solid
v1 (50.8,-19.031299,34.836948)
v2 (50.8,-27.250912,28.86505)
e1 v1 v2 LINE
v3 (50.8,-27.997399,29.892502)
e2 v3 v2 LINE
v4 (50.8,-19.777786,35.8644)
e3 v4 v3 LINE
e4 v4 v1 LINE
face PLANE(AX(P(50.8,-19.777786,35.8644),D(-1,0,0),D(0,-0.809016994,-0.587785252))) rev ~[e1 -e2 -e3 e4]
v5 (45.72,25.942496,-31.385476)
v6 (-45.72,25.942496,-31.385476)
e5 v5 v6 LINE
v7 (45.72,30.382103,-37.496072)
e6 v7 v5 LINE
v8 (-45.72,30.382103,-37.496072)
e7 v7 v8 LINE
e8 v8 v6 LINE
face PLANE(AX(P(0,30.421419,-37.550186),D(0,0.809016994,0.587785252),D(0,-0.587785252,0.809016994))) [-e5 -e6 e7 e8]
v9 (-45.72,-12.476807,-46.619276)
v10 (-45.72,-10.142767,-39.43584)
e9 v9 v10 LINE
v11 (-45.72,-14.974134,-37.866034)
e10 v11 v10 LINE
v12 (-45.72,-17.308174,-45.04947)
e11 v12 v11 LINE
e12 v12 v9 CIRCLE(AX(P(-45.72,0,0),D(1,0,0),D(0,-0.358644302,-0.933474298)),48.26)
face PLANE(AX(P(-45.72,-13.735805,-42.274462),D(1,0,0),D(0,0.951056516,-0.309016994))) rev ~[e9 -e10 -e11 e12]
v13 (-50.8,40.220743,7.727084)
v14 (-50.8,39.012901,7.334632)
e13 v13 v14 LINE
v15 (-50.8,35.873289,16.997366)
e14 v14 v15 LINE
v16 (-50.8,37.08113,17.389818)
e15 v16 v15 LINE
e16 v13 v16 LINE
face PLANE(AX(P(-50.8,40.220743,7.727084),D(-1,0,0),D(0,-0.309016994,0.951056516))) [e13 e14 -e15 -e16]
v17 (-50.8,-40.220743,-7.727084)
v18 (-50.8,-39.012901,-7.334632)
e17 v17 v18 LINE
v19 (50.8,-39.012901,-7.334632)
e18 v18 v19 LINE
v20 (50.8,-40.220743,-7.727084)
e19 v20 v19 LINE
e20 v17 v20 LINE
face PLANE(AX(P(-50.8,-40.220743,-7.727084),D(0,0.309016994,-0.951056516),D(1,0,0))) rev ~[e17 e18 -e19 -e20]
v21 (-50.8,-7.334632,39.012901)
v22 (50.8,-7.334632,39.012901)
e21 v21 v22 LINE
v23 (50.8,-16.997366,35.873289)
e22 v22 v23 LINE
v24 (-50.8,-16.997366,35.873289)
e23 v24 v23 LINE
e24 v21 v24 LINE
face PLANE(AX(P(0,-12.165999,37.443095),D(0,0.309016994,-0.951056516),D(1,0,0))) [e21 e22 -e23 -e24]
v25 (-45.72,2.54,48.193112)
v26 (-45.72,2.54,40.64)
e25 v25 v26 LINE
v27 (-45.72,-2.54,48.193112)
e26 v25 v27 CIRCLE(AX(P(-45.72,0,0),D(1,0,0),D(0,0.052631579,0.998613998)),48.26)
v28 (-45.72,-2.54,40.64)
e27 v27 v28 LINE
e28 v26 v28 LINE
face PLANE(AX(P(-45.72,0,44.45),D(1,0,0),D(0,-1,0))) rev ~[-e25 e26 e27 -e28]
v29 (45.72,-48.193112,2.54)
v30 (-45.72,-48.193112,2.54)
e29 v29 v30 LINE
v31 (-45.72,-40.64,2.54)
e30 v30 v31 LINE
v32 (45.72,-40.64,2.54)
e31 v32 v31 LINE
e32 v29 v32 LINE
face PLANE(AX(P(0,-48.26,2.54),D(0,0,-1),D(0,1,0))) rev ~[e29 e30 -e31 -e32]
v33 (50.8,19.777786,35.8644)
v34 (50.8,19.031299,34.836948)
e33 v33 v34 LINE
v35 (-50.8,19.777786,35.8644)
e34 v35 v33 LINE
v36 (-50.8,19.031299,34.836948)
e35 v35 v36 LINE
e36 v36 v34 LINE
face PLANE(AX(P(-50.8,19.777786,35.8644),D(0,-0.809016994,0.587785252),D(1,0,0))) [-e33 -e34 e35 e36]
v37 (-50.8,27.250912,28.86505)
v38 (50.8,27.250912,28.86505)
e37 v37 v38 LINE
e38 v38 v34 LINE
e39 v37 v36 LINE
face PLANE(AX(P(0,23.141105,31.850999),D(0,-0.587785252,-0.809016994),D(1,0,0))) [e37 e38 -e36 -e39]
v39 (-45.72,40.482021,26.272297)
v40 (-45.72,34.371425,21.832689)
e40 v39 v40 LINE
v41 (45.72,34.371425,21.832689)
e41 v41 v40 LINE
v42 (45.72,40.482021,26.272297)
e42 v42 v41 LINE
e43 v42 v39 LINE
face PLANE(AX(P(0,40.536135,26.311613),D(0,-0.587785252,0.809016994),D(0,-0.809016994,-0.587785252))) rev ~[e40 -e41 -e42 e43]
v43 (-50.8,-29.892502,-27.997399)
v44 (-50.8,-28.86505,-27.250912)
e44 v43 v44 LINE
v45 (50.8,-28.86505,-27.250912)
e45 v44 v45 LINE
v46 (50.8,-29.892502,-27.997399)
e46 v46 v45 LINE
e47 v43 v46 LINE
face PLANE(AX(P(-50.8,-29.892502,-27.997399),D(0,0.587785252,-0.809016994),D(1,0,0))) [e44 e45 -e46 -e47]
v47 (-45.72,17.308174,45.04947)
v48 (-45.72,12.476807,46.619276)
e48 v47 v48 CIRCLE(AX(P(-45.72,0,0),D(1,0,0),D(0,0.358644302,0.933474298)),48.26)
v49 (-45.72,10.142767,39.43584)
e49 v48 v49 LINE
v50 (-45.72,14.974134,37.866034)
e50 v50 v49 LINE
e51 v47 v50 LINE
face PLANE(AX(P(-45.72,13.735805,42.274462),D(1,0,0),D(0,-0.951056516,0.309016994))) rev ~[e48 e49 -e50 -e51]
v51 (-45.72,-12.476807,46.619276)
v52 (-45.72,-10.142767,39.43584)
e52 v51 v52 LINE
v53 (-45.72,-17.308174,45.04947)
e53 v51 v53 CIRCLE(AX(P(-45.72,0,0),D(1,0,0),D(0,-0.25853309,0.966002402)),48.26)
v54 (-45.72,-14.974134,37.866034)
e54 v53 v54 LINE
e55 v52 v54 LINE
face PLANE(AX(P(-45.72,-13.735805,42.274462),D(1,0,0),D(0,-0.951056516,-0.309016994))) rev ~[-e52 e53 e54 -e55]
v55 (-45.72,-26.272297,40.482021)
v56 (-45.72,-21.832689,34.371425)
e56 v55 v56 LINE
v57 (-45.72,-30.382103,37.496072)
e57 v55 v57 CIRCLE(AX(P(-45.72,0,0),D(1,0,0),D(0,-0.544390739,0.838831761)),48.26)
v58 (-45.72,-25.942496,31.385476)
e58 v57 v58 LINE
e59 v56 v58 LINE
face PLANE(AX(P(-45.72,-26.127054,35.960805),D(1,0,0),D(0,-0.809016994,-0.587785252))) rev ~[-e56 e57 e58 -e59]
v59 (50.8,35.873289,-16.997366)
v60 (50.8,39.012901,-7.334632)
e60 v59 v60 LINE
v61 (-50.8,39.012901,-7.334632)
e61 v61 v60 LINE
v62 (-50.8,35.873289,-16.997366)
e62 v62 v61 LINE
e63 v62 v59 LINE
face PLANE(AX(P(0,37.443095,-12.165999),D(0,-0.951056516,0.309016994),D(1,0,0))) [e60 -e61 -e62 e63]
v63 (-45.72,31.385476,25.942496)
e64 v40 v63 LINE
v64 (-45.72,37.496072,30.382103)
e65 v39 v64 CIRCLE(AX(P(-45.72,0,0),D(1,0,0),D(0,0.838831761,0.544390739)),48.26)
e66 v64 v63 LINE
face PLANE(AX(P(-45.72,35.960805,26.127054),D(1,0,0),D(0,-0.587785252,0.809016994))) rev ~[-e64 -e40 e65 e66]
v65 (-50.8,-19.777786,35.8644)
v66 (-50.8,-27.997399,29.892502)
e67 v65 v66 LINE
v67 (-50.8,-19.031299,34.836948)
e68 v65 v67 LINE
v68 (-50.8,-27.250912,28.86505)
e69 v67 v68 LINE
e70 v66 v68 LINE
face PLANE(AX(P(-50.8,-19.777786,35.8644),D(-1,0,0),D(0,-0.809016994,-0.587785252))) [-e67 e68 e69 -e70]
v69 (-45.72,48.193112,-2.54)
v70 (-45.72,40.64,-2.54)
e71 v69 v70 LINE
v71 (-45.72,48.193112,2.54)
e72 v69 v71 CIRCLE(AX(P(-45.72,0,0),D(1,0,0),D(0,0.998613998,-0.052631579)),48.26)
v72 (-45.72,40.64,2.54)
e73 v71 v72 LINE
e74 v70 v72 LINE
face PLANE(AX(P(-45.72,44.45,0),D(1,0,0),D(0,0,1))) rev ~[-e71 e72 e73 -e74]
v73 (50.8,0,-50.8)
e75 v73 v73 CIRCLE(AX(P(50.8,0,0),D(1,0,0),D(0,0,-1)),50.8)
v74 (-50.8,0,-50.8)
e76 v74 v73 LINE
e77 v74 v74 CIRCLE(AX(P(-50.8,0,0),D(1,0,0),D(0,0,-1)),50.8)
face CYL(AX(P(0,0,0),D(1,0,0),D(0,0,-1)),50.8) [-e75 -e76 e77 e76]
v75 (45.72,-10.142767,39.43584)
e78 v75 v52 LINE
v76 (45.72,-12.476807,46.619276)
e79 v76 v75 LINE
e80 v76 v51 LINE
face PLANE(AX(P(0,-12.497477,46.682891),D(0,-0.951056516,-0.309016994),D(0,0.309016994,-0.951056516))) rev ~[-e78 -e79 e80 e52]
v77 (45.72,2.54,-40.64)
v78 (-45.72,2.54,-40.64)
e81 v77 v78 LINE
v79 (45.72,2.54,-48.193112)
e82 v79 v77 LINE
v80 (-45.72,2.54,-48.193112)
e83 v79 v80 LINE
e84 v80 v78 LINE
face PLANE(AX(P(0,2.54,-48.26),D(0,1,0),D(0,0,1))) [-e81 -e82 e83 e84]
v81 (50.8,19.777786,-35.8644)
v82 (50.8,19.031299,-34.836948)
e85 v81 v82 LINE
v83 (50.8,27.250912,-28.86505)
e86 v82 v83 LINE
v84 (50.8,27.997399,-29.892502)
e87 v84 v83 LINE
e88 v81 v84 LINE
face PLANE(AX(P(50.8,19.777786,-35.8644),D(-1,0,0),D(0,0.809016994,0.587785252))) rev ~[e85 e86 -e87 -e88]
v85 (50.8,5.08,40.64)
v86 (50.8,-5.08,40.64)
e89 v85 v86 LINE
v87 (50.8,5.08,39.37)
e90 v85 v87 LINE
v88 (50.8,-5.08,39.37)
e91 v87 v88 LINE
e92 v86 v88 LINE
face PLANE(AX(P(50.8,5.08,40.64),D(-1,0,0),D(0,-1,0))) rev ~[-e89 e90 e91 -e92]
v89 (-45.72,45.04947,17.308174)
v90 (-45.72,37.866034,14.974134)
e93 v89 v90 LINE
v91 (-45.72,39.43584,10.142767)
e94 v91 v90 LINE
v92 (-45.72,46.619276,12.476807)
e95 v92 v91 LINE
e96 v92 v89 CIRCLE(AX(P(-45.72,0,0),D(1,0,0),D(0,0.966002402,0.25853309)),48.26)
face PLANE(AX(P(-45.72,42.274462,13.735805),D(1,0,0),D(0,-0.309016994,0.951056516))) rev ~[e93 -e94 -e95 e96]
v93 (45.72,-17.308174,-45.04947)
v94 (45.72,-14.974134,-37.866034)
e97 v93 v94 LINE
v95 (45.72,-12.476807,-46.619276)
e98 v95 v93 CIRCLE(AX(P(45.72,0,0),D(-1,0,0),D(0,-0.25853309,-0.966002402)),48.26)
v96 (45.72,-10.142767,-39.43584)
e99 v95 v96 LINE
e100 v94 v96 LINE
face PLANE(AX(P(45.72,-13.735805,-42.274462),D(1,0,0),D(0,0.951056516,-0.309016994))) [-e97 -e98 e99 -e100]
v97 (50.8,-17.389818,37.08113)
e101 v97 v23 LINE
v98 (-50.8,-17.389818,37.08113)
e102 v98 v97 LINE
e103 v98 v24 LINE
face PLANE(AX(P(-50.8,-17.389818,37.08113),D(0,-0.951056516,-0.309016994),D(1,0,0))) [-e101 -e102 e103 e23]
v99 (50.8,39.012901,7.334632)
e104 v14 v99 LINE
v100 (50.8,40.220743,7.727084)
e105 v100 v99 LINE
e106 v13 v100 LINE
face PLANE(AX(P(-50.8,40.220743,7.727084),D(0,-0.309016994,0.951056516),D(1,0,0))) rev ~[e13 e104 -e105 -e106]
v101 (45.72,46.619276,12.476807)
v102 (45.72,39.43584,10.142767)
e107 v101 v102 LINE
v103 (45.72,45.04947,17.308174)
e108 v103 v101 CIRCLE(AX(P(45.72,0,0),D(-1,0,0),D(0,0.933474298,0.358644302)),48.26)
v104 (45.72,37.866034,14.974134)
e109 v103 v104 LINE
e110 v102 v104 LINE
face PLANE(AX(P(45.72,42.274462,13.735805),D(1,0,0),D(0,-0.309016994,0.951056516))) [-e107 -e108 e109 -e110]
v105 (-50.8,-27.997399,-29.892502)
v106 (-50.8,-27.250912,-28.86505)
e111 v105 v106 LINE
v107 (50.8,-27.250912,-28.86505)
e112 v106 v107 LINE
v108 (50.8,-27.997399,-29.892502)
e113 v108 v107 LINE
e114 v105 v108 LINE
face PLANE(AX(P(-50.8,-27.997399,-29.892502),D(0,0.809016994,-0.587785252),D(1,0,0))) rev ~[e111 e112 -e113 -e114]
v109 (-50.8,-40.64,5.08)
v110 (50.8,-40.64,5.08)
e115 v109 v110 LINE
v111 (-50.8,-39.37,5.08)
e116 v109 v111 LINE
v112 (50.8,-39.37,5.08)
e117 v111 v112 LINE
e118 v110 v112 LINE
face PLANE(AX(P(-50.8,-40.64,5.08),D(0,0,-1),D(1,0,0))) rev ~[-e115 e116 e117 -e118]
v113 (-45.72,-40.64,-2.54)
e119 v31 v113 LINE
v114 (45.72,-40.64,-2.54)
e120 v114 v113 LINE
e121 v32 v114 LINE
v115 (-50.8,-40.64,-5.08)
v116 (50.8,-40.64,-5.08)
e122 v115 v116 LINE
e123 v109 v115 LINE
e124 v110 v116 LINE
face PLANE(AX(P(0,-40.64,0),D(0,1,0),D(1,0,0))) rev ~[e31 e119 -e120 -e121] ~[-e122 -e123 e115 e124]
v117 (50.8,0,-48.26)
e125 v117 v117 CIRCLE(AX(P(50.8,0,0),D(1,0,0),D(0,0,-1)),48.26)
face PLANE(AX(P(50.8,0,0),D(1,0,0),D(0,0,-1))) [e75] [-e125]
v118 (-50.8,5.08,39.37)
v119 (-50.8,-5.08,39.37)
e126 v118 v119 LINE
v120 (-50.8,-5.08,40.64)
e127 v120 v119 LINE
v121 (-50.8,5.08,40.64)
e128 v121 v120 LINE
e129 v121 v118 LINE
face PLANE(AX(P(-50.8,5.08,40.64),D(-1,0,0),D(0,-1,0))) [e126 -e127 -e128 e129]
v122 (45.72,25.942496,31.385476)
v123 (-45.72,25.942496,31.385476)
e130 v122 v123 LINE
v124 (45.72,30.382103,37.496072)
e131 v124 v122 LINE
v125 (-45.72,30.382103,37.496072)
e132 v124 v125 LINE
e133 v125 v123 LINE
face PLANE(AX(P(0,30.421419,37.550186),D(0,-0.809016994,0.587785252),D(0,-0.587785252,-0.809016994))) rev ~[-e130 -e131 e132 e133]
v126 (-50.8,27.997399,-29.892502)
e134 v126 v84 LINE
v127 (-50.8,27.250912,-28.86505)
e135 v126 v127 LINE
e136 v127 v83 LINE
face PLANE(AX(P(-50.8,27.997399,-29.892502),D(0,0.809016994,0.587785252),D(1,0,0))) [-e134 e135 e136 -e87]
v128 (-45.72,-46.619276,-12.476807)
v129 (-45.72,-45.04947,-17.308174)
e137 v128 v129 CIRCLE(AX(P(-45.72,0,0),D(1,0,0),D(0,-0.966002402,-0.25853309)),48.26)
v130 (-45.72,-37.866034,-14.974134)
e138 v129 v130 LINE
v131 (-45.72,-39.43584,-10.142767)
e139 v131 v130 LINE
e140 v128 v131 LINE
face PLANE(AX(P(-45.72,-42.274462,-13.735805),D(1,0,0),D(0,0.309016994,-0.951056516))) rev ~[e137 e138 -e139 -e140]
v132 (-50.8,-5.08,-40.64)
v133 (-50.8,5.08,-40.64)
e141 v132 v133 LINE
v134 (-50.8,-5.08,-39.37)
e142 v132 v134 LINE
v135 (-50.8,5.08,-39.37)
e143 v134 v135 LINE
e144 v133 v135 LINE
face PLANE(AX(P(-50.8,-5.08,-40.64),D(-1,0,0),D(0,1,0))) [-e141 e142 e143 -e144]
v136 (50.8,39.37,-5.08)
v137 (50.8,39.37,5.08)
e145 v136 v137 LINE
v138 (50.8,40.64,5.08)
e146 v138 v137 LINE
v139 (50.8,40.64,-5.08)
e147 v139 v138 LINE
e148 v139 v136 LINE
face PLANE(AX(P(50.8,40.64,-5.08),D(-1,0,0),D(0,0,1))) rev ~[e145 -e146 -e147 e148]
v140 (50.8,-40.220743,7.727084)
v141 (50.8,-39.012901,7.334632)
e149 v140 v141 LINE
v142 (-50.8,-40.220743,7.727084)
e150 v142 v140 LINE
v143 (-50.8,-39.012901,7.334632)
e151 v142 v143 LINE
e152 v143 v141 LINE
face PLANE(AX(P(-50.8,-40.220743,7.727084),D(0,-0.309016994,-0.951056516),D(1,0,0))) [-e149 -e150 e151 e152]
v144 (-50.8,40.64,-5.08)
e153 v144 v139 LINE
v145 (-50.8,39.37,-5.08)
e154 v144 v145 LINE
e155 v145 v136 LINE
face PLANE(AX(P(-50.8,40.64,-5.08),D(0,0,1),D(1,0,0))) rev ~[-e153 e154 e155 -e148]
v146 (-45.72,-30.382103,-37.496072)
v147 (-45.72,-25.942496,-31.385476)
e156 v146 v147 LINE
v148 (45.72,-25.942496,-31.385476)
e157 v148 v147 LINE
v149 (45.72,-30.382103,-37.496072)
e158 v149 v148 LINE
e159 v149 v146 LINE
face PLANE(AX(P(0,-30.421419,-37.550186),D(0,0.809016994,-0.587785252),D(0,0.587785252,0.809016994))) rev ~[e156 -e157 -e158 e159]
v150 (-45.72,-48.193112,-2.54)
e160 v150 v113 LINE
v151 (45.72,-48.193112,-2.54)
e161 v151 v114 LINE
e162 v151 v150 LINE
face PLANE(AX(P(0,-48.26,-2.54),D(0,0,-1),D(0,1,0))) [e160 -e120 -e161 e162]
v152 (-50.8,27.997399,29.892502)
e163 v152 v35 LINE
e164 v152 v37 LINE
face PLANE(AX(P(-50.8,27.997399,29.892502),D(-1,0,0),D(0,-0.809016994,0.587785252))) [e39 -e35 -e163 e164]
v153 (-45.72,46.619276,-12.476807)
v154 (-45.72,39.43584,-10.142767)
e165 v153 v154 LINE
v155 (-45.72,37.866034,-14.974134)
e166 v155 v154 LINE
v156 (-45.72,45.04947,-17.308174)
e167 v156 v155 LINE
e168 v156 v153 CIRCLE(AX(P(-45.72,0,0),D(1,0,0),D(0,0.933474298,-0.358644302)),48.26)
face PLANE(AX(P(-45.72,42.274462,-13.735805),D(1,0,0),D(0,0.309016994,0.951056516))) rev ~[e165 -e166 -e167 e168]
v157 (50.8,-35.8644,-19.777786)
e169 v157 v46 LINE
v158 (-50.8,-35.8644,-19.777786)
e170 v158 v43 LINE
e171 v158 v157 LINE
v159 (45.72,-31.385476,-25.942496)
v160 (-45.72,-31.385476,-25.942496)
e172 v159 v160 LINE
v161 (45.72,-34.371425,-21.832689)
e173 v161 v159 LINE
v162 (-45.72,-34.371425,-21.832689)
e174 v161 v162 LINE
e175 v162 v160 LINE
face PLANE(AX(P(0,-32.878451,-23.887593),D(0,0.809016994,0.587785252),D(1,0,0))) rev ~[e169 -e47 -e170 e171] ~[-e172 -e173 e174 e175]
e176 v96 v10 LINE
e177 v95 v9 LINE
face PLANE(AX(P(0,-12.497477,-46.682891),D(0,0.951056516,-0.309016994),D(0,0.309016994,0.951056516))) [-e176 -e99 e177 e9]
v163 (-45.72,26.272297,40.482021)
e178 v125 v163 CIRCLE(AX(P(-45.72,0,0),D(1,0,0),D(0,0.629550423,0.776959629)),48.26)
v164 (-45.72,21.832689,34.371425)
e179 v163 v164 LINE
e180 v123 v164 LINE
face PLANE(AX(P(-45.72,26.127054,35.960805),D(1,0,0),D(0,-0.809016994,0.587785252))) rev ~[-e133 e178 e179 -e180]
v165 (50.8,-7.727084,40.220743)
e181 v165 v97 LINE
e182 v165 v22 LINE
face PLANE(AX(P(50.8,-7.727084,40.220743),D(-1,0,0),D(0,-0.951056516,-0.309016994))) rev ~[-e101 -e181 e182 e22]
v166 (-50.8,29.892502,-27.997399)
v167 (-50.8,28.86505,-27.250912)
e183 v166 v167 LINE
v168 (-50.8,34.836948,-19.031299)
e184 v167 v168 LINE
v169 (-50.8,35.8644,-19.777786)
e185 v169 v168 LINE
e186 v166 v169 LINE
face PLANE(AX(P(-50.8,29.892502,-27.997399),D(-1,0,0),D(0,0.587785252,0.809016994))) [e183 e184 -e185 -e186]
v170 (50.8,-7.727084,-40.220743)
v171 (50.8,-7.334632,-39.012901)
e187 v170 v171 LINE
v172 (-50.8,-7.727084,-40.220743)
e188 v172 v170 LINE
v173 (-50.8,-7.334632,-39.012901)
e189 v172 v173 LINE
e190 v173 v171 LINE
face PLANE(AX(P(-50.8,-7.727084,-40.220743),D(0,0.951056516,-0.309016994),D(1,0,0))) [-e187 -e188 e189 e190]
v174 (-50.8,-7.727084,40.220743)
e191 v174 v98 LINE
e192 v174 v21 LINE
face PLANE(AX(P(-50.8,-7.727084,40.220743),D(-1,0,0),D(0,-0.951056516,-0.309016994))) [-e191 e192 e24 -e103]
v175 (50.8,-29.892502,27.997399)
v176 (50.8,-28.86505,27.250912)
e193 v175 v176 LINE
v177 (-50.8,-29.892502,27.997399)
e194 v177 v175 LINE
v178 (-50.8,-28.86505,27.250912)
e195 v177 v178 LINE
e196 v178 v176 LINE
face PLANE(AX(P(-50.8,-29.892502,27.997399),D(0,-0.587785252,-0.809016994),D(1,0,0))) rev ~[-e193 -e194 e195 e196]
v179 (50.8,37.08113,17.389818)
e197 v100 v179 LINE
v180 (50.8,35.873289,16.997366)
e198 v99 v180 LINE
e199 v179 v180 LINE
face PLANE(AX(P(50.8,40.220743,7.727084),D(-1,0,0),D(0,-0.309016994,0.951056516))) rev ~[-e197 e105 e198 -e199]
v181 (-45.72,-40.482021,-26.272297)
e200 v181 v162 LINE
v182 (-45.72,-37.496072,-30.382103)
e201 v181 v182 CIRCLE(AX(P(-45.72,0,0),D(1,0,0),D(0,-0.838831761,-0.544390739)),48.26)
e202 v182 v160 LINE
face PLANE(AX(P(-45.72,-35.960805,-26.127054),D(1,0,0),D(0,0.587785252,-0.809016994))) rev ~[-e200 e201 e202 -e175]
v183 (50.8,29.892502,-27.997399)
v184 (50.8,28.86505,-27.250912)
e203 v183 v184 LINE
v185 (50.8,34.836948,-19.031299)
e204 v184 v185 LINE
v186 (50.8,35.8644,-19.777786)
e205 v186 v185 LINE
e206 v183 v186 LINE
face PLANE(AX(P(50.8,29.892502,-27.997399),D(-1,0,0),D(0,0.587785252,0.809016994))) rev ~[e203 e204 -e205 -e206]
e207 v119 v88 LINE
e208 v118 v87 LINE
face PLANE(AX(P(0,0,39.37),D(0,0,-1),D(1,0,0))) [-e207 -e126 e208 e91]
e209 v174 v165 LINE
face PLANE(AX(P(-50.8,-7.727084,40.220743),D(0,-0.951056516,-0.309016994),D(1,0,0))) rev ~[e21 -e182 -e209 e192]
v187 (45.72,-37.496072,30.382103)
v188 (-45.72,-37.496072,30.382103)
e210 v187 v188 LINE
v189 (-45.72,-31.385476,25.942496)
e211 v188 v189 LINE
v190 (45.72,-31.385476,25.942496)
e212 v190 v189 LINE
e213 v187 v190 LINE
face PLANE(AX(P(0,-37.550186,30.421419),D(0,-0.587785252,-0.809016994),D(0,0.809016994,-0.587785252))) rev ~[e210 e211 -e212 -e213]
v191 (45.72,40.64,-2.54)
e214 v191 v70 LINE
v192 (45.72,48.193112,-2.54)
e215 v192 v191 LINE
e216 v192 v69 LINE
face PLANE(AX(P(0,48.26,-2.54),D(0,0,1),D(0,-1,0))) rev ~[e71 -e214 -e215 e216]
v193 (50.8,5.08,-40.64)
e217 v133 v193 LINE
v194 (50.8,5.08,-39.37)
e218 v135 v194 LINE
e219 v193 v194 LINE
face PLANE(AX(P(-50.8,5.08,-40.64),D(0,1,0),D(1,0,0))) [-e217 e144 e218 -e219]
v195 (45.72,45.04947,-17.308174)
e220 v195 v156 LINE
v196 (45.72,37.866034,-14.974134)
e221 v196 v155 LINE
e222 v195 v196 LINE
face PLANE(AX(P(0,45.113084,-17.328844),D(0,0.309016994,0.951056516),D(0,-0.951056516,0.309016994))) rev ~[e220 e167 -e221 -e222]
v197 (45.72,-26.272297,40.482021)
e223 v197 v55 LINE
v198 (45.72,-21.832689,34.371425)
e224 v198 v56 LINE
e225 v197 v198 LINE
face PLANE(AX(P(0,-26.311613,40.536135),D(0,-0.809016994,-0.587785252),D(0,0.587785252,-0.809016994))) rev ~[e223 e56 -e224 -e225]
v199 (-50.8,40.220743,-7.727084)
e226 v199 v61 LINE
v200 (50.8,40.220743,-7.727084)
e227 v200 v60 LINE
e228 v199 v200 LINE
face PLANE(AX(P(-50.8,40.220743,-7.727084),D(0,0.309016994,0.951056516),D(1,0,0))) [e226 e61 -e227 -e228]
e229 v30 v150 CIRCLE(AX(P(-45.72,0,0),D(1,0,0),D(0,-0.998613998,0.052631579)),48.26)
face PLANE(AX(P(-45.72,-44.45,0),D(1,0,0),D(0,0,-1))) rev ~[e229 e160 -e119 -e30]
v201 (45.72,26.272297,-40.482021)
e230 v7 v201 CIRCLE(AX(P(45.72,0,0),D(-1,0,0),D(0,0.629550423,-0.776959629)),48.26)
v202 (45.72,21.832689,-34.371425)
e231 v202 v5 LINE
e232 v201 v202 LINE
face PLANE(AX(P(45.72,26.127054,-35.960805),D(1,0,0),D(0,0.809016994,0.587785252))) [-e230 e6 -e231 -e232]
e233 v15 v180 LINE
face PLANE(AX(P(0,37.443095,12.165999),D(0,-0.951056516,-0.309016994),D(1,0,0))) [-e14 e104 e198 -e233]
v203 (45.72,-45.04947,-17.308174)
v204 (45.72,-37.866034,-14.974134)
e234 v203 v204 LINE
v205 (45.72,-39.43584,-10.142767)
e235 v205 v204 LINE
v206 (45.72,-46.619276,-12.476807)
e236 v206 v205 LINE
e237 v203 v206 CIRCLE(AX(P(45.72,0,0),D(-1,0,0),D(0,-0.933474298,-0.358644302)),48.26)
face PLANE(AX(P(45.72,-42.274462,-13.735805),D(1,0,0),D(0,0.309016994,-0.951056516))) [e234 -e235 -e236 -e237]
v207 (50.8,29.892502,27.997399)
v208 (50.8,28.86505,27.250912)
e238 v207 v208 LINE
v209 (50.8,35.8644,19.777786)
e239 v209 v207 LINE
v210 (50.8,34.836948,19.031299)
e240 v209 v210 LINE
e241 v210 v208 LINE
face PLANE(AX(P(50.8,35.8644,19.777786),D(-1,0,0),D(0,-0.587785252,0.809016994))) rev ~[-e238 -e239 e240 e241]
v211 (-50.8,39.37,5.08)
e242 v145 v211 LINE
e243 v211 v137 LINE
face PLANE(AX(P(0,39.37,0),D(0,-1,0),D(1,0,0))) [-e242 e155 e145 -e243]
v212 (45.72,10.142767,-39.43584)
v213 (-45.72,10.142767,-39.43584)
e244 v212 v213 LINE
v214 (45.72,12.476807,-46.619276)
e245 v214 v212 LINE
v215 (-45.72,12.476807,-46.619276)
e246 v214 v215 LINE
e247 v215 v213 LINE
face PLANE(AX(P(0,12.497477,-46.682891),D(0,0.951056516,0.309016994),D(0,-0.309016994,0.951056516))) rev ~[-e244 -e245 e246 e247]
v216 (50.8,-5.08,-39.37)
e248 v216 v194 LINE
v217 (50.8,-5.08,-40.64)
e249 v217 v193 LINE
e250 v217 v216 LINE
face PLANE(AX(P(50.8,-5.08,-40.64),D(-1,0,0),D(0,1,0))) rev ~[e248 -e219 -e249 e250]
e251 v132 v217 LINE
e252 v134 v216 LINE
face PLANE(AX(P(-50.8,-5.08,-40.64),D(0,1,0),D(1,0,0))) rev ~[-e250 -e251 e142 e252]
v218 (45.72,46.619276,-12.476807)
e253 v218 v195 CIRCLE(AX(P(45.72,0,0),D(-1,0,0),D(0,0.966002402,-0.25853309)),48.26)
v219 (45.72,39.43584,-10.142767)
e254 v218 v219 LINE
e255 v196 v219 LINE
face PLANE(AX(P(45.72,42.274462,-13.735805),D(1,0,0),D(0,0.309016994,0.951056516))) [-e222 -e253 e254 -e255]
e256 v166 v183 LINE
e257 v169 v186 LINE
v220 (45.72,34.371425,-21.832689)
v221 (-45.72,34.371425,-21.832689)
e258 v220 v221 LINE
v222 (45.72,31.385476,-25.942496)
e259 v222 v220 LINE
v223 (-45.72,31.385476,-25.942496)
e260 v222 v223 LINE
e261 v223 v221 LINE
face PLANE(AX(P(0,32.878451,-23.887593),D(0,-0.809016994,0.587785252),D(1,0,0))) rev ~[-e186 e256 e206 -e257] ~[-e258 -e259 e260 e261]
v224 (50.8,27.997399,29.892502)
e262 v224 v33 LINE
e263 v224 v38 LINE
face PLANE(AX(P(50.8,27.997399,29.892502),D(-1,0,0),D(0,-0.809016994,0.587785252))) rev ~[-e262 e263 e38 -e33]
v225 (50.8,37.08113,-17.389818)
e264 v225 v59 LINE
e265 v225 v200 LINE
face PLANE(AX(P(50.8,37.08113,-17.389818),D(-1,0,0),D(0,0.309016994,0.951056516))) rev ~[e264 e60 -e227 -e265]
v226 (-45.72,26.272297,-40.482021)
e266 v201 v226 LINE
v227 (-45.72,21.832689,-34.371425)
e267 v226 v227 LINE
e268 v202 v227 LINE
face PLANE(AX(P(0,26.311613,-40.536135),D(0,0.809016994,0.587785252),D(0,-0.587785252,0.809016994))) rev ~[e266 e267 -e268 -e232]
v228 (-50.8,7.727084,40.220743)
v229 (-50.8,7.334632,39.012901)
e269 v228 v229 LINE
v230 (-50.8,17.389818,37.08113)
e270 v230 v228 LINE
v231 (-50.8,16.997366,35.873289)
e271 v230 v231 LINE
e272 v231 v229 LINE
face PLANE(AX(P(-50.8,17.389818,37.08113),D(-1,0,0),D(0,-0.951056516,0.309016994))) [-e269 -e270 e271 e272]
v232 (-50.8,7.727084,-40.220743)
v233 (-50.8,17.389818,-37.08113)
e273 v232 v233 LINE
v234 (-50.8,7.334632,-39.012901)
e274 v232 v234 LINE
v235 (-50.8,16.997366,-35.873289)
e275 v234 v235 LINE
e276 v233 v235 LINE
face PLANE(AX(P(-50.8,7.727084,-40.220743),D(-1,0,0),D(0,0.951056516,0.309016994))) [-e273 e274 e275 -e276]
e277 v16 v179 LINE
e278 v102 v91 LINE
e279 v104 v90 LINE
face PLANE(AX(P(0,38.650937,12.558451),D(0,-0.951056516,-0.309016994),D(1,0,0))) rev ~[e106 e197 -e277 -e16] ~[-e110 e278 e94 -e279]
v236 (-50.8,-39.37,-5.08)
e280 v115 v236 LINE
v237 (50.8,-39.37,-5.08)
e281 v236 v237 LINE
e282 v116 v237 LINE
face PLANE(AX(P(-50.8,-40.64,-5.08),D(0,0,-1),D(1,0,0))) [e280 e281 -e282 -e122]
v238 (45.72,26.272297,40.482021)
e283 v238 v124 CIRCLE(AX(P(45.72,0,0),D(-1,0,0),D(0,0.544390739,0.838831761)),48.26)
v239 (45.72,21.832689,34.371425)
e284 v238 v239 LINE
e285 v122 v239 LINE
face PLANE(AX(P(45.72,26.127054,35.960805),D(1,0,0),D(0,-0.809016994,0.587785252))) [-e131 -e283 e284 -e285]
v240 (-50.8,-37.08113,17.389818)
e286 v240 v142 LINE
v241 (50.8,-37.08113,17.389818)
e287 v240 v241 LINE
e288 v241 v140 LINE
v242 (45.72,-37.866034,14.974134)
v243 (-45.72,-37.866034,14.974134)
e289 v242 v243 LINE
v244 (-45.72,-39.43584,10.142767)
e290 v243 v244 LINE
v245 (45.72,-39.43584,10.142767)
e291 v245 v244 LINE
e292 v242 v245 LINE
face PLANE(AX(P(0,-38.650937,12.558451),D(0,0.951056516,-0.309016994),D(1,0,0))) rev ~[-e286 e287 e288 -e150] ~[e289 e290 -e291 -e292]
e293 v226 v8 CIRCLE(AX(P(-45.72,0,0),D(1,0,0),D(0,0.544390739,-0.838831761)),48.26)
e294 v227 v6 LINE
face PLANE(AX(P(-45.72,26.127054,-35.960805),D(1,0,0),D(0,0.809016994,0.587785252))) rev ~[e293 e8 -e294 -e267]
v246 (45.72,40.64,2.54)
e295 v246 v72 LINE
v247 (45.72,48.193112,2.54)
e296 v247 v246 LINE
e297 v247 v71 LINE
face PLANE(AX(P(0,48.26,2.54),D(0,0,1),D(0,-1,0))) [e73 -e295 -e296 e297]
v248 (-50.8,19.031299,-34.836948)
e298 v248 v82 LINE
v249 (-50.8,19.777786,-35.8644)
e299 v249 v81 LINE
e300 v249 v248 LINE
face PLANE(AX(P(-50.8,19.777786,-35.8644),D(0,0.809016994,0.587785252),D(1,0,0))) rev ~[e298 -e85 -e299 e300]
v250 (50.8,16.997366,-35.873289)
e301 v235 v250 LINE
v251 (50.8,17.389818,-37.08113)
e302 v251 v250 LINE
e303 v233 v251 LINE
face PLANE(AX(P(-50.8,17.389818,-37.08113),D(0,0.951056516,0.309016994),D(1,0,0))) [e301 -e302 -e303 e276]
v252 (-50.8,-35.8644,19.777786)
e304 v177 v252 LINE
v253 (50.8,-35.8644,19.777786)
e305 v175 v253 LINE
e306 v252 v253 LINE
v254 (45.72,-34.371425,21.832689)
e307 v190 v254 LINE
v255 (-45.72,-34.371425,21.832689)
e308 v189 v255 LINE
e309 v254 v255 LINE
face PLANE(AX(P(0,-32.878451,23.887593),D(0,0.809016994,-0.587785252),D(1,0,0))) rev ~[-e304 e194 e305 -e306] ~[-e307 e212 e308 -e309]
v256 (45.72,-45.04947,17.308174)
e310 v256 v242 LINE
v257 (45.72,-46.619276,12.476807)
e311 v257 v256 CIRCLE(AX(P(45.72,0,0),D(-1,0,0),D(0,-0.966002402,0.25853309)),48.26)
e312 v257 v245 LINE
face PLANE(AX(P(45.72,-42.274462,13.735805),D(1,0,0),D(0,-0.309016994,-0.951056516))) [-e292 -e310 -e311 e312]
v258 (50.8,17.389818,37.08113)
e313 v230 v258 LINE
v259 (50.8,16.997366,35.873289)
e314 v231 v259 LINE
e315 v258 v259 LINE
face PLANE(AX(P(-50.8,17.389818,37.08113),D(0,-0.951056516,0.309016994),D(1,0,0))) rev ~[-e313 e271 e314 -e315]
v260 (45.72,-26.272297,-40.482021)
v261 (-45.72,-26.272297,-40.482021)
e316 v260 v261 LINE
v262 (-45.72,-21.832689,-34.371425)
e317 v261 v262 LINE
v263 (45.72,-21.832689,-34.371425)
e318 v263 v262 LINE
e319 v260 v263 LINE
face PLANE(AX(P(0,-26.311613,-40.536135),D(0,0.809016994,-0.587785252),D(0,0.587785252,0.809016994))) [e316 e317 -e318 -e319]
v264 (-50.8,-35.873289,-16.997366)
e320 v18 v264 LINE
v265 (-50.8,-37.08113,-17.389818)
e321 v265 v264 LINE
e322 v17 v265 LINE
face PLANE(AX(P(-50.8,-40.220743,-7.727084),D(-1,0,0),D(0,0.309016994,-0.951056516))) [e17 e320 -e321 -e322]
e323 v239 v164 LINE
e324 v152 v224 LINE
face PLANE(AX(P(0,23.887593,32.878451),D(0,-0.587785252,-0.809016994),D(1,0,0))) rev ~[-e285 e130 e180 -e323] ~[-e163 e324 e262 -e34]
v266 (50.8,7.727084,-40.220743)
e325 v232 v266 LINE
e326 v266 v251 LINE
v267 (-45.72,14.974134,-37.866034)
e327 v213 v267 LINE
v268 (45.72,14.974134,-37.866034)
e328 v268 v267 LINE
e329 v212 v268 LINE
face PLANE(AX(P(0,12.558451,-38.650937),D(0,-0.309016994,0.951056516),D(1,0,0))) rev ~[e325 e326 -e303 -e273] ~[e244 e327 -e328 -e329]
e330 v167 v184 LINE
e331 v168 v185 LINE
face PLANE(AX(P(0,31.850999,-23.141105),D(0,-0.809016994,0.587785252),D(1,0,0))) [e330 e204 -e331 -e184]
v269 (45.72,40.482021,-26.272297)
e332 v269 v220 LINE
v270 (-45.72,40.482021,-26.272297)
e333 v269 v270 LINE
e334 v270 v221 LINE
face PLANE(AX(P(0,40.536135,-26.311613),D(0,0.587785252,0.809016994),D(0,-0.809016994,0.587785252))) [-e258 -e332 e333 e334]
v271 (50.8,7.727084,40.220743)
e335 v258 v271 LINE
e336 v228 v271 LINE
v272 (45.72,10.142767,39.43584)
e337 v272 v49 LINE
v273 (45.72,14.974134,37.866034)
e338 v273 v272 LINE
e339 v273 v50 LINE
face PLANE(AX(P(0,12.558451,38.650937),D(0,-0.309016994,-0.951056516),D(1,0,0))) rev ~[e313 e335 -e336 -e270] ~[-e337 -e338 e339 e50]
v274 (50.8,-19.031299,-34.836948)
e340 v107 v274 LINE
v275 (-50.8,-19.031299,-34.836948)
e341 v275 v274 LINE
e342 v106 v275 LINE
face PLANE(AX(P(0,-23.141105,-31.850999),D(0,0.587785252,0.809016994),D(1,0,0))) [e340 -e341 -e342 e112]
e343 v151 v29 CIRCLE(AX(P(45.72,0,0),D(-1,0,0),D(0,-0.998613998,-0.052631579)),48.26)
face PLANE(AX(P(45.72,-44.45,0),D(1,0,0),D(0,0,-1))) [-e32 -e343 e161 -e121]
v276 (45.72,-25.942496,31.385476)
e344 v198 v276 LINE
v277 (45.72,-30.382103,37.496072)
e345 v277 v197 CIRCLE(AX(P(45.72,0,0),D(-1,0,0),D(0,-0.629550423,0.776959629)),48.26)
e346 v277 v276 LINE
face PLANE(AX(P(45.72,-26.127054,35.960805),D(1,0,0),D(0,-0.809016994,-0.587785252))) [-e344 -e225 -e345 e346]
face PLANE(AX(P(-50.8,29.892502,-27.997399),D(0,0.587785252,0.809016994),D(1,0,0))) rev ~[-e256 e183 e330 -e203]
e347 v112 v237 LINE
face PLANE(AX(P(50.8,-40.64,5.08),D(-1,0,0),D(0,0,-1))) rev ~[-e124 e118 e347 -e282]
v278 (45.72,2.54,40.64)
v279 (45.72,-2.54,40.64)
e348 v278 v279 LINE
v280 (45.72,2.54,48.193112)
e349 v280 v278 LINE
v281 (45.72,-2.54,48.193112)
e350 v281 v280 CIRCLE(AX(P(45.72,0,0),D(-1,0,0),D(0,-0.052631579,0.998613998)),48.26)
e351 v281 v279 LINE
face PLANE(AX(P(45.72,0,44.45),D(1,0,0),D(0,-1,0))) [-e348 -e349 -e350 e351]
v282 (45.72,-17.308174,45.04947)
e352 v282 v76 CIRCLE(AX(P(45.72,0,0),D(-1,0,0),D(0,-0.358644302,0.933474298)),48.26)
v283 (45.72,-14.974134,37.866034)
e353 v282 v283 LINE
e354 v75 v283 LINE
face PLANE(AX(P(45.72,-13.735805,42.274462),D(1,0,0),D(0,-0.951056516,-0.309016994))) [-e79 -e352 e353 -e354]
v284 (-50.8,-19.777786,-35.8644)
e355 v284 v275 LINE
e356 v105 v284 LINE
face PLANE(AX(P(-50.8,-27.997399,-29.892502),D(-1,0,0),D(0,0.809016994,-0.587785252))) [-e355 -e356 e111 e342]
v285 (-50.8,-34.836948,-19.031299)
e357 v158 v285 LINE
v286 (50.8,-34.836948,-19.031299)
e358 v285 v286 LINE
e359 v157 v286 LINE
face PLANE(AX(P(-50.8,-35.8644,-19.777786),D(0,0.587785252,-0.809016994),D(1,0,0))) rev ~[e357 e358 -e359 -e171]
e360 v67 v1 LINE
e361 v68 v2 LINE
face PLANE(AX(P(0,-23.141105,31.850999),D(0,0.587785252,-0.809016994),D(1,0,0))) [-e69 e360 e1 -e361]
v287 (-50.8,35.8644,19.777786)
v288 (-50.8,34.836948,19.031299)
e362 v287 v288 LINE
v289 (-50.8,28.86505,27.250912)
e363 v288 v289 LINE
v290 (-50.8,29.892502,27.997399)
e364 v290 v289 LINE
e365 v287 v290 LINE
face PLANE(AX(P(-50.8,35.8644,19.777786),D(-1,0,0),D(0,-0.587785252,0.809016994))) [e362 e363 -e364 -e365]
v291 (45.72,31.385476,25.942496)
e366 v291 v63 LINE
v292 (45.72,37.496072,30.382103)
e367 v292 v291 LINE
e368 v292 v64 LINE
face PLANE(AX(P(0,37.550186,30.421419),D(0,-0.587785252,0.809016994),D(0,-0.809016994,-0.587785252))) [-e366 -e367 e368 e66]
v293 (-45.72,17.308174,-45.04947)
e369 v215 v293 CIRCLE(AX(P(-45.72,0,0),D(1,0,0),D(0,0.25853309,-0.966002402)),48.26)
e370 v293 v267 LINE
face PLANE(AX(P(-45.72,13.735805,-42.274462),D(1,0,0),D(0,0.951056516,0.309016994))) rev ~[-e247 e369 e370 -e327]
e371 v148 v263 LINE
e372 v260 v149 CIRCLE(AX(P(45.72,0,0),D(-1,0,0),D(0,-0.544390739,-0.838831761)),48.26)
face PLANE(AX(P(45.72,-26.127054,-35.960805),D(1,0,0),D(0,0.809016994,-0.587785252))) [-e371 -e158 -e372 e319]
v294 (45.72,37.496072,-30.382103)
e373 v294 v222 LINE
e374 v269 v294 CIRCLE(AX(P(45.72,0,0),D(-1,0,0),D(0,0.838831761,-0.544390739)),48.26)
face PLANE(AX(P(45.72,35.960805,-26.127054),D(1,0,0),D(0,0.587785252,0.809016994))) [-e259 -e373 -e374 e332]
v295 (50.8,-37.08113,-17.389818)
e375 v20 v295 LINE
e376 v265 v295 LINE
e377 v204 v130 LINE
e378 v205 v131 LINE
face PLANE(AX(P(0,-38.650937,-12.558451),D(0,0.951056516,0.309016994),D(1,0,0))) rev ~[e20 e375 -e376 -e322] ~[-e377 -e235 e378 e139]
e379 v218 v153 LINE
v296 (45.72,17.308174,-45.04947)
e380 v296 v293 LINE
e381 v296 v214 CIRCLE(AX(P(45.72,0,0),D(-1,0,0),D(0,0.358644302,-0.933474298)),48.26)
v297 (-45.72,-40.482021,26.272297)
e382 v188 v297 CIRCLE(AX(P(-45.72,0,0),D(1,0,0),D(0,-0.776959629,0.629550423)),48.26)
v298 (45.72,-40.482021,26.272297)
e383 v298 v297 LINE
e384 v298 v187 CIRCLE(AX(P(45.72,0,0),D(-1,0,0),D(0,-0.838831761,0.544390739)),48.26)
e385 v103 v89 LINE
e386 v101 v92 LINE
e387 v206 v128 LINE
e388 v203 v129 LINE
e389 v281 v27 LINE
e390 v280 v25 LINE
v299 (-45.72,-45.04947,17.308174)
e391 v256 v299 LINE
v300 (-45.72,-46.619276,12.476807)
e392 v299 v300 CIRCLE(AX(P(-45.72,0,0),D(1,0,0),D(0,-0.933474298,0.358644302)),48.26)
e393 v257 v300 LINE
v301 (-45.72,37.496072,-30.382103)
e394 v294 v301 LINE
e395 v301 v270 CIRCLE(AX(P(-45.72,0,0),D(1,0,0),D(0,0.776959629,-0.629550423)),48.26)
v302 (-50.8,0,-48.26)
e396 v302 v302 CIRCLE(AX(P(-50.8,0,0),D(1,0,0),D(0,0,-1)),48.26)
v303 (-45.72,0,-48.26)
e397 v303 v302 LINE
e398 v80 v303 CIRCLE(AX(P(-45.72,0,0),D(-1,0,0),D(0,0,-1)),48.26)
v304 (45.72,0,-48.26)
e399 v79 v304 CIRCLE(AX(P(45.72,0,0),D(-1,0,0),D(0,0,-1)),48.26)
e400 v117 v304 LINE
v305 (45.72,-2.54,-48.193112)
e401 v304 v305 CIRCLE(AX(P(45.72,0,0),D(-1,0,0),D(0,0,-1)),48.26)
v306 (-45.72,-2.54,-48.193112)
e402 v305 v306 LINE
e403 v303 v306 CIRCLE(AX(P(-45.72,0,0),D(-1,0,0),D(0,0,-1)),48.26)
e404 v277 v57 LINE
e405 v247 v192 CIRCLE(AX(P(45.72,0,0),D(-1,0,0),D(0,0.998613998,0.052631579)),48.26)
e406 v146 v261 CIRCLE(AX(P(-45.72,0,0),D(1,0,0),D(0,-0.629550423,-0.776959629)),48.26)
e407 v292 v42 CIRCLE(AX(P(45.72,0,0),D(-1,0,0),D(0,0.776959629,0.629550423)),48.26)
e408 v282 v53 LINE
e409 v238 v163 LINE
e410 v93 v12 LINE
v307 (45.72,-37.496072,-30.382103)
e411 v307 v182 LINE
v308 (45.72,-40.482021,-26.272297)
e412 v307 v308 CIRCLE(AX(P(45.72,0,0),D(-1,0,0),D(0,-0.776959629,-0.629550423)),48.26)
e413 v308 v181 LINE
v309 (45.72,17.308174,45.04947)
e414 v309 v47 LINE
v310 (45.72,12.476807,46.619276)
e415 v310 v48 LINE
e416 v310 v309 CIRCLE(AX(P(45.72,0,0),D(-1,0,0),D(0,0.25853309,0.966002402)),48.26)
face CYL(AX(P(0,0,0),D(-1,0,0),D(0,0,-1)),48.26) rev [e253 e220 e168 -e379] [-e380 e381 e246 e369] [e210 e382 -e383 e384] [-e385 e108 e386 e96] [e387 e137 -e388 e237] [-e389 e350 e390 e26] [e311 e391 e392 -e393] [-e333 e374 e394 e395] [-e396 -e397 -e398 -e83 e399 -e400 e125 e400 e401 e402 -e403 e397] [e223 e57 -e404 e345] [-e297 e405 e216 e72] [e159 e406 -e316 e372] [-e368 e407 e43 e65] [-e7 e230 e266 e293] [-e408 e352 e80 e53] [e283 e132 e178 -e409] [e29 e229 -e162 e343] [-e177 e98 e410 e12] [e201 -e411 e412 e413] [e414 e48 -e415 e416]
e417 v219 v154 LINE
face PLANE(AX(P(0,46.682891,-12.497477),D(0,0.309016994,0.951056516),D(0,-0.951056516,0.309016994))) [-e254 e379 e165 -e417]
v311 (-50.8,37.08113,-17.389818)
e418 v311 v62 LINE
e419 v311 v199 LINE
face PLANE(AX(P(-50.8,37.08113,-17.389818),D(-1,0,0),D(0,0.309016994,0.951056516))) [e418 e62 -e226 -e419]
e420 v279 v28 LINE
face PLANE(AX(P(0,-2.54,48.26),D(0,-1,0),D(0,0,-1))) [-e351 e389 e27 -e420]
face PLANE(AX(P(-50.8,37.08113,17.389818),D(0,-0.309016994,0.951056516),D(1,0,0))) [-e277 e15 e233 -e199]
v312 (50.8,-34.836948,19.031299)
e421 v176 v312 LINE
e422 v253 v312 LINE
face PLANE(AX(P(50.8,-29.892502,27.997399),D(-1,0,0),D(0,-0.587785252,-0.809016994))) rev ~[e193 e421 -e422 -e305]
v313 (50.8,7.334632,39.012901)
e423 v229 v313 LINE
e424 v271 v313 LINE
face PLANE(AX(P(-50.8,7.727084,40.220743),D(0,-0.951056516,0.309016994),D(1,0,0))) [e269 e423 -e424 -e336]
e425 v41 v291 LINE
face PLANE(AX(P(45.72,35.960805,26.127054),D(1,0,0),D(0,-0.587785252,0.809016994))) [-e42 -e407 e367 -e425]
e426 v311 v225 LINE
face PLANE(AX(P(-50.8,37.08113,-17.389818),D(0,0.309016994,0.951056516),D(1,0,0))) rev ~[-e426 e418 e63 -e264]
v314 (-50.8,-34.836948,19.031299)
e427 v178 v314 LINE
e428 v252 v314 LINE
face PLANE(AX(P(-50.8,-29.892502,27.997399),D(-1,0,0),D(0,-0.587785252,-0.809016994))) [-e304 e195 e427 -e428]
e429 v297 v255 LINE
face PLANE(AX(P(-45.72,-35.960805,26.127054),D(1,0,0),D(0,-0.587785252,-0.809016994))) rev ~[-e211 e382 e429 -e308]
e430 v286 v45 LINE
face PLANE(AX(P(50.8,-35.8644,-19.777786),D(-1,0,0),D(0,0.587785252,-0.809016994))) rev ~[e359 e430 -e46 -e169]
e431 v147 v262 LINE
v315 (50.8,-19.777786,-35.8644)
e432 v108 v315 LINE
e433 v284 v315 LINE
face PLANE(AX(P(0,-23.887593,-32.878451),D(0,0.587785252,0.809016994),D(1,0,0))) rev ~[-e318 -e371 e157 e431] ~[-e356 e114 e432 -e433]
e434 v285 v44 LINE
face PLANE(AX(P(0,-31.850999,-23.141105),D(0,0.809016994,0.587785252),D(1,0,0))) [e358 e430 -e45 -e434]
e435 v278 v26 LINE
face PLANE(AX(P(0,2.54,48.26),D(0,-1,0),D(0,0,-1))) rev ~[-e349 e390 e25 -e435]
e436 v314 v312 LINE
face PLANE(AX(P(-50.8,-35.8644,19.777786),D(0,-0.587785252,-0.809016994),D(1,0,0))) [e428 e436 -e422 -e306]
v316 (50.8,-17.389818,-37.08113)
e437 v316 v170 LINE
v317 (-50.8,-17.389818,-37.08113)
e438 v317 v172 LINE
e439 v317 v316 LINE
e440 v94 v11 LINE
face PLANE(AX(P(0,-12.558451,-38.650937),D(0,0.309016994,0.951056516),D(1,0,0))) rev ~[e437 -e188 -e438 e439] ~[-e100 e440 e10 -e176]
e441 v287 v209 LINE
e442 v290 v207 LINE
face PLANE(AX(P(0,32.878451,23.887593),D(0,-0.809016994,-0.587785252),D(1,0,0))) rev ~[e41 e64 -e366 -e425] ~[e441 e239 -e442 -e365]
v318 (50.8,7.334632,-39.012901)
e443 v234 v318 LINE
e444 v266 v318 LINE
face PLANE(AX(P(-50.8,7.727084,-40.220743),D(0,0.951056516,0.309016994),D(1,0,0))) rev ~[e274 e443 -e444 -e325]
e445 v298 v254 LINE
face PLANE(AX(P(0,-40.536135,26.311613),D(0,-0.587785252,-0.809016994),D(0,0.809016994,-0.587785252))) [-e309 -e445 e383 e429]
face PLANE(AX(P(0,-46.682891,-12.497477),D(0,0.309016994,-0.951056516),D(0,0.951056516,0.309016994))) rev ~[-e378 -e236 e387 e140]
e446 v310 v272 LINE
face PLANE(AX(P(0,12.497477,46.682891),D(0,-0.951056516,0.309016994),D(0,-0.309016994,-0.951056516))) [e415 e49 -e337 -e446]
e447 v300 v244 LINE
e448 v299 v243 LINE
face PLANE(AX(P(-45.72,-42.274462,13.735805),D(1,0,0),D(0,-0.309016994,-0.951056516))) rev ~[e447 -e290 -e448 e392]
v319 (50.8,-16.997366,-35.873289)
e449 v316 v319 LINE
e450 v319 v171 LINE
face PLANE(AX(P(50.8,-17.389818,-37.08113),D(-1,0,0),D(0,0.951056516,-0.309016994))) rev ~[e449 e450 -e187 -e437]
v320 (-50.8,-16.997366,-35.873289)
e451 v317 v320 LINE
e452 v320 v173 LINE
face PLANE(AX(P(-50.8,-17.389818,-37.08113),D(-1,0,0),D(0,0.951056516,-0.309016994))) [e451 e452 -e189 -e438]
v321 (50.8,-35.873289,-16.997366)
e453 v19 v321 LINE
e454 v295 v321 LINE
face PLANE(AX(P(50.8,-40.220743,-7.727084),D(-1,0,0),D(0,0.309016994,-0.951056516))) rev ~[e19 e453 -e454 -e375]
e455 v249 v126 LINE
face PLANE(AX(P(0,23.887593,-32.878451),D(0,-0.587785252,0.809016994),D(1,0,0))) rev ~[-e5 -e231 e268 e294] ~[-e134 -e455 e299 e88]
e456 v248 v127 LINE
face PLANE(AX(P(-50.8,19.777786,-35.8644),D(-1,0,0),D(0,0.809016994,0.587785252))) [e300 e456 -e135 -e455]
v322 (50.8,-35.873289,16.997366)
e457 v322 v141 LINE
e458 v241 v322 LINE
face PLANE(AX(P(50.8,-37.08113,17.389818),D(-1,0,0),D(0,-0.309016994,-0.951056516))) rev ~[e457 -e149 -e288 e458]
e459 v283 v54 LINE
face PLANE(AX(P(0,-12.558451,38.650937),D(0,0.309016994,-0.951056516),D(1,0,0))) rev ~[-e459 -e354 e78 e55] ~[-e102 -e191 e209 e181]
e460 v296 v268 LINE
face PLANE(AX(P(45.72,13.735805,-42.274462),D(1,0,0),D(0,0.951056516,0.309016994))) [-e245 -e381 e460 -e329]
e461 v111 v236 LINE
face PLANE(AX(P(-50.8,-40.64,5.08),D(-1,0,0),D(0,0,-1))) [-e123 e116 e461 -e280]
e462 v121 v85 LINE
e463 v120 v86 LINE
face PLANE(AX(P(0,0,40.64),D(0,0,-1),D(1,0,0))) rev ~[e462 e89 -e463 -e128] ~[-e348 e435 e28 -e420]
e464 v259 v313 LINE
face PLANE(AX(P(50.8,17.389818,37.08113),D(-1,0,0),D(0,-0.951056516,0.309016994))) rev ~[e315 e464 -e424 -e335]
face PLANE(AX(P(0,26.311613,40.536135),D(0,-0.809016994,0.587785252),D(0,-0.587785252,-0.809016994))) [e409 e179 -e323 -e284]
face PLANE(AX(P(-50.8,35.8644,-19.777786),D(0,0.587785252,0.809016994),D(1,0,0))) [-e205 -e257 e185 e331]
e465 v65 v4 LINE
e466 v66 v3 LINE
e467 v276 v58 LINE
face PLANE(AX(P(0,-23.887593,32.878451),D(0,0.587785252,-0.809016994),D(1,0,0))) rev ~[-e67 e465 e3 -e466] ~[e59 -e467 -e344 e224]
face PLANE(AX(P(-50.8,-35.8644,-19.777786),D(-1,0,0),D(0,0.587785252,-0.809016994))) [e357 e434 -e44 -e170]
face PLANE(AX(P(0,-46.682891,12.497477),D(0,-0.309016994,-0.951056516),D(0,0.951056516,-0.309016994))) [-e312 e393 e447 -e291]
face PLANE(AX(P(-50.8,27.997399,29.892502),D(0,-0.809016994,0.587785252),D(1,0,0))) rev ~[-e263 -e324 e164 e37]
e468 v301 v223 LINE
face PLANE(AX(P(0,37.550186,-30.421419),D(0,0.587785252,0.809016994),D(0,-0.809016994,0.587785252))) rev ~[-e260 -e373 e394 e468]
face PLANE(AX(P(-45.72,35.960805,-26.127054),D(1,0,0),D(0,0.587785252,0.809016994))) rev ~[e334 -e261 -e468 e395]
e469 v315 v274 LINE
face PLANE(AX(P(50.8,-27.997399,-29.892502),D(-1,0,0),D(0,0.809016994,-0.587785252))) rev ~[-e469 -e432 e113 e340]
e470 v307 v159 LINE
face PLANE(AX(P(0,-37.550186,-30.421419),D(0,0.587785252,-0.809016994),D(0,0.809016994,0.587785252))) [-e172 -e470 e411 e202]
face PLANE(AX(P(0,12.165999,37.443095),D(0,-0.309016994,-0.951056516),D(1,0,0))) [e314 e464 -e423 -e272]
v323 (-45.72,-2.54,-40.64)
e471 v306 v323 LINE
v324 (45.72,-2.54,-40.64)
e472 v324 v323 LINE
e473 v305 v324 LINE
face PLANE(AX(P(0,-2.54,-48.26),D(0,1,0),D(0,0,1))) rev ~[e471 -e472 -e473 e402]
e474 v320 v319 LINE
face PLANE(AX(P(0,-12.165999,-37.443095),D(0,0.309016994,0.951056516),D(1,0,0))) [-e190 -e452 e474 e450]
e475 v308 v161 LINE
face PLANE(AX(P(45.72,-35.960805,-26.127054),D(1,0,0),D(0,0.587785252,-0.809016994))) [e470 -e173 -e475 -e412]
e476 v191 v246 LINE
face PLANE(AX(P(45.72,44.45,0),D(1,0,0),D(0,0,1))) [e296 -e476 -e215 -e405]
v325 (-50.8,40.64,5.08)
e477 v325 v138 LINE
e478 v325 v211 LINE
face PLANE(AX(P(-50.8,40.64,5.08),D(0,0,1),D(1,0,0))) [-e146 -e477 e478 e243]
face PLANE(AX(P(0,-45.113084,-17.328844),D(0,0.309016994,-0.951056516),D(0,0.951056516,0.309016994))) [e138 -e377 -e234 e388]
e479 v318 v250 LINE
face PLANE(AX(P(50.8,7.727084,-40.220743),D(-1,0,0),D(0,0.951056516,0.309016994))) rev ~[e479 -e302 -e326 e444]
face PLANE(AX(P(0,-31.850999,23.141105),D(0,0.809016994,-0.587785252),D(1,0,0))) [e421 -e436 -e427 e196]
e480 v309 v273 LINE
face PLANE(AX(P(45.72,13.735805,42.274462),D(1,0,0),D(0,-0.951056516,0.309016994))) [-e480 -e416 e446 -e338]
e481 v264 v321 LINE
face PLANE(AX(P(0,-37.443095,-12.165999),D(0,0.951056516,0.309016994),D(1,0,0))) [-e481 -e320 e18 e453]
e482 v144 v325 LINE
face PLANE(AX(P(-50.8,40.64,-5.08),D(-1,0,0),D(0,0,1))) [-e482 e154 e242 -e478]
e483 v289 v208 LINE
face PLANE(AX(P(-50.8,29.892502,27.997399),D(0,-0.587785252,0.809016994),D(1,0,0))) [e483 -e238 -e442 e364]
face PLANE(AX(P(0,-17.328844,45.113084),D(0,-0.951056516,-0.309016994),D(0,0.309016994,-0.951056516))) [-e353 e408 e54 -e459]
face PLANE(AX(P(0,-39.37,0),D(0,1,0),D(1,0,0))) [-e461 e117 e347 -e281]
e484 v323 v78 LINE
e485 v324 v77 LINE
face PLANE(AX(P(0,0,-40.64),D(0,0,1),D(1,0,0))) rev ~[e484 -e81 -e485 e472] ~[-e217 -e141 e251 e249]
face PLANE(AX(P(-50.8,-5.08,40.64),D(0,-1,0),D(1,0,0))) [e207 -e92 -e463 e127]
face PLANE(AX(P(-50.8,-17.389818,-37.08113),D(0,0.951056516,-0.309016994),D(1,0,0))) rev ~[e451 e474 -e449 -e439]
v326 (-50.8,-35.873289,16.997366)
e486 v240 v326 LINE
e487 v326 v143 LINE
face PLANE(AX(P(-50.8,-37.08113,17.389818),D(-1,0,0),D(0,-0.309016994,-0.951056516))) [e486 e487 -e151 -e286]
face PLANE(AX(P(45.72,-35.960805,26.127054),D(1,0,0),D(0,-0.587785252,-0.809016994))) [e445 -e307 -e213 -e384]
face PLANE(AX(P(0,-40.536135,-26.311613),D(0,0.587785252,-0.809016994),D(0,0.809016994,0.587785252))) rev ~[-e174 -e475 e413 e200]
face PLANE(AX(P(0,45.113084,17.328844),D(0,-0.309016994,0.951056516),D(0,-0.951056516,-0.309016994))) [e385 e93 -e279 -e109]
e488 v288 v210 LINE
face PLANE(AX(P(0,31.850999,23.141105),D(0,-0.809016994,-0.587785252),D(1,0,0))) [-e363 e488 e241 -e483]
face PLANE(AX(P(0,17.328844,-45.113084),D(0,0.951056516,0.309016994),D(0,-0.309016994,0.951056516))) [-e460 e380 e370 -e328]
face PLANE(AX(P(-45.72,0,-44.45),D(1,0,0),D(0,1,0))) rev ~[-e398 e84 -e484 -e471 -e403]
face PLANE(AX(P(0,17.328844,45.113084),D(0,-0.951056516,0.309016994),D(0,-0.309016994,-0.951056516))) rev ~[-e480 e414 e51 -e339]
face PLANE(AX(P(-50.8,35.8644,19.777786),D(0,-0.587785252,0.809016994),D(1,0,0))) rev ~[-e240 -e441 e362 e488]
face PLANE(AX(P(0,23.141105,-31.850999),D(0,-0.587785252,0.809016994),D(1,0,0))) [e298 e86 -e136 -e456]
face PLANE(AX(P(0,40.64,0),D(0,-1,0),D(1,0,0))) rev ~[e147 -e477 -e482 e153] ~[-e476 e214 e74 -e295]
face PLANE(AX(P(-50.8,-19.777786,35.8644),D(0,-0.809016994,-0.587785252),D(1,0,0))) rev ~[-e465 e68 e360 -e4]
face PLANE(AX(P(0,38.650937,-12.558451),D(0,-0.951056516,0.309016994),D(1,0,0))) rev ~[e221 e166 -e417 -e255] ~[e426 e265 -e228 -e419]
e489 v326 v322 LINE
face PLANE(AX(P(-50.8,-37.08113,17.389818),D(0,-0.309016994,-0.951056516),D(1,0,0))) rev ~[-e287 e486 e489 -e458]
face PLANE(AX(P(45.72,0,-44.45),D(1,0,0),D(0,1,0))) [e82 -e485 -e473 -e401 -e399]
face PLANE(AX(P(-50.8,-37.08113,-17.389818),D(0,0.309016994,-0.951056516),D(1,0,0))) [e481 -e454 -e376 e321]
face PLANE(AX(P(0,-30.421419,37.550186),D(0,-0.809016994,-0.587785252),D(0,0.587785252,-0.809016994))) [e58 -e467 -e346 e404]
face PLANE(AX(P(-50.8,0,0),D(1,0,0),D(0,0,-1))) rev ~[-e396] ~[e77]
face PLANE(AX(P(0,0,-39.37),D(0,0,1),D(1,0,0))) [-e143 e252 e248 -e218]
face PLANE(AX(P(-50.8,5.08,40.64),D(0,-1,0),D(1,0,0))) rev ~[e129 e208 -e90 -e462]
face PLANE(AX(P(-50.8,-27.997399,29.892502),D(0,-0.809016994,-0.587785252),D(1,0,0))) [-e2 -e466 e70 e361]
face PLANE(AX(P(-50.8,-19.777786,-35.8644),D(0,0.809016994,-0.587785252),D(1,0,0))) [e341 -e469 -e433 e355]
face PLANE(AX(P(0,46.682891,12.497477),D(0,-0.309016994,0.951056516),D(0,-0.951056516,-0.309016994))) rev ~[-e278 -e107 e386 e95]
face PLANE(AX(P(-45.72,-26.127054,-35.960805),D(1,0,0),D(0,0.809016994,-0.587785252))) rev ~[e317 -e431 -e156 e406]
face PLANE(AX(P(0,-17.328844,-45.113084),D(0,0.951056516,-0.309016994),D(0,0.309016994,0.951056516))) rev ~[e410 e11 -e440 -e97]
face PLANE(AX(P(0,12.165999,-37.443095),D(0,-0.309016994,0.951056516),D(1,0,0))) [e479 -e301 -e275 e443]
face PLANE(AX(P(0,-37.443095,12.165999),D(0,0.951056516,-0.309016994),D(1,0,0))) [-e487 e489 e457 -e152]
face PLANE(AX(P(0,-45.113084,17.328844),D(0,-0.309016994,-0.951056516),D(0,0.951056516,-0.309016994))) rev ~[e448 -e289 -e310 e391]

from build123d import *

# Parameters (mm, degrees)
SKETCH2_R           = 50.8
SKETCH2_R_2         = 48.26
BOSS_EXTRUDE1_DEPTH = 50.8
SKETCH3_W           = 5.08
SKETCH3_H           = 7.62
BOSS_EXTRUDE2_DEPTH = 45.72
SKETCH4_W           = 101.6
SKETCH4_H           = 10.16
BOSS_EXTRUDE3_DEPTH = 1.27
CIRPATTERN1_COUNT   = 20


with BuildPart() as part:
    # Sketch2 → Boss-Extrude1 (new body, symmetric)
    with BuildSketch(Plane(origin=(0, 0, 0), x_dir=(0, 0, -1), z_dir=(1, 0, 0))):
        Circle(SKETCH2_R)
        Circle(SKETCH2_R_2, mode=Mode.SUBTRACT)
    extrude(amount=BOSS_EXTRUDE1_DEPTH, both=True)

    # Sketch3 → Boss-Extrude2 (add, symmetric)
    with BuildSketch(Plane(origin=(0, 0, 0), x_dir=(0, 0, -1), z_dir=(1, 0, 0))):
        with Locations((0, -44.45)):
            Rectangle(SKETCH3_W, SKETCH3_H)
    boss_extrude2 = extrude(amount=BOSS_EXTRUDE2_DEPTH, both=True)

    # Sketch4 → Boss-Extrude3 (add)
    with BuildSketch(Plane(origin=(0, -40.64, 0), x_dir=(1, 0, 0), z_dir=(0, 1, 0))):
        Rectangle(SKETCH4_W, SKETCH4_H)
    boss_extrude3 = extrude(amount=BOSS_EXTRUDE3_DEPTH)

    # CirPattern1: Boss-Extrude2, Boss-Extrude3 ×20 about axis
    cirpattern1_axis = Axis((0, 0, 0), (1, 0, 0))
    for i in range(1, CIRPATTERN1_COUNT):
        add(boss_extrude2.rotate(cirpattern1_axis, i * 360 / CIRPATTERN1_COUNT))
        add(boss_extrude3.rotate(cirpattern1_axis, i * 360 / CIRPATTERN1_COUNT))


solid = part.part
